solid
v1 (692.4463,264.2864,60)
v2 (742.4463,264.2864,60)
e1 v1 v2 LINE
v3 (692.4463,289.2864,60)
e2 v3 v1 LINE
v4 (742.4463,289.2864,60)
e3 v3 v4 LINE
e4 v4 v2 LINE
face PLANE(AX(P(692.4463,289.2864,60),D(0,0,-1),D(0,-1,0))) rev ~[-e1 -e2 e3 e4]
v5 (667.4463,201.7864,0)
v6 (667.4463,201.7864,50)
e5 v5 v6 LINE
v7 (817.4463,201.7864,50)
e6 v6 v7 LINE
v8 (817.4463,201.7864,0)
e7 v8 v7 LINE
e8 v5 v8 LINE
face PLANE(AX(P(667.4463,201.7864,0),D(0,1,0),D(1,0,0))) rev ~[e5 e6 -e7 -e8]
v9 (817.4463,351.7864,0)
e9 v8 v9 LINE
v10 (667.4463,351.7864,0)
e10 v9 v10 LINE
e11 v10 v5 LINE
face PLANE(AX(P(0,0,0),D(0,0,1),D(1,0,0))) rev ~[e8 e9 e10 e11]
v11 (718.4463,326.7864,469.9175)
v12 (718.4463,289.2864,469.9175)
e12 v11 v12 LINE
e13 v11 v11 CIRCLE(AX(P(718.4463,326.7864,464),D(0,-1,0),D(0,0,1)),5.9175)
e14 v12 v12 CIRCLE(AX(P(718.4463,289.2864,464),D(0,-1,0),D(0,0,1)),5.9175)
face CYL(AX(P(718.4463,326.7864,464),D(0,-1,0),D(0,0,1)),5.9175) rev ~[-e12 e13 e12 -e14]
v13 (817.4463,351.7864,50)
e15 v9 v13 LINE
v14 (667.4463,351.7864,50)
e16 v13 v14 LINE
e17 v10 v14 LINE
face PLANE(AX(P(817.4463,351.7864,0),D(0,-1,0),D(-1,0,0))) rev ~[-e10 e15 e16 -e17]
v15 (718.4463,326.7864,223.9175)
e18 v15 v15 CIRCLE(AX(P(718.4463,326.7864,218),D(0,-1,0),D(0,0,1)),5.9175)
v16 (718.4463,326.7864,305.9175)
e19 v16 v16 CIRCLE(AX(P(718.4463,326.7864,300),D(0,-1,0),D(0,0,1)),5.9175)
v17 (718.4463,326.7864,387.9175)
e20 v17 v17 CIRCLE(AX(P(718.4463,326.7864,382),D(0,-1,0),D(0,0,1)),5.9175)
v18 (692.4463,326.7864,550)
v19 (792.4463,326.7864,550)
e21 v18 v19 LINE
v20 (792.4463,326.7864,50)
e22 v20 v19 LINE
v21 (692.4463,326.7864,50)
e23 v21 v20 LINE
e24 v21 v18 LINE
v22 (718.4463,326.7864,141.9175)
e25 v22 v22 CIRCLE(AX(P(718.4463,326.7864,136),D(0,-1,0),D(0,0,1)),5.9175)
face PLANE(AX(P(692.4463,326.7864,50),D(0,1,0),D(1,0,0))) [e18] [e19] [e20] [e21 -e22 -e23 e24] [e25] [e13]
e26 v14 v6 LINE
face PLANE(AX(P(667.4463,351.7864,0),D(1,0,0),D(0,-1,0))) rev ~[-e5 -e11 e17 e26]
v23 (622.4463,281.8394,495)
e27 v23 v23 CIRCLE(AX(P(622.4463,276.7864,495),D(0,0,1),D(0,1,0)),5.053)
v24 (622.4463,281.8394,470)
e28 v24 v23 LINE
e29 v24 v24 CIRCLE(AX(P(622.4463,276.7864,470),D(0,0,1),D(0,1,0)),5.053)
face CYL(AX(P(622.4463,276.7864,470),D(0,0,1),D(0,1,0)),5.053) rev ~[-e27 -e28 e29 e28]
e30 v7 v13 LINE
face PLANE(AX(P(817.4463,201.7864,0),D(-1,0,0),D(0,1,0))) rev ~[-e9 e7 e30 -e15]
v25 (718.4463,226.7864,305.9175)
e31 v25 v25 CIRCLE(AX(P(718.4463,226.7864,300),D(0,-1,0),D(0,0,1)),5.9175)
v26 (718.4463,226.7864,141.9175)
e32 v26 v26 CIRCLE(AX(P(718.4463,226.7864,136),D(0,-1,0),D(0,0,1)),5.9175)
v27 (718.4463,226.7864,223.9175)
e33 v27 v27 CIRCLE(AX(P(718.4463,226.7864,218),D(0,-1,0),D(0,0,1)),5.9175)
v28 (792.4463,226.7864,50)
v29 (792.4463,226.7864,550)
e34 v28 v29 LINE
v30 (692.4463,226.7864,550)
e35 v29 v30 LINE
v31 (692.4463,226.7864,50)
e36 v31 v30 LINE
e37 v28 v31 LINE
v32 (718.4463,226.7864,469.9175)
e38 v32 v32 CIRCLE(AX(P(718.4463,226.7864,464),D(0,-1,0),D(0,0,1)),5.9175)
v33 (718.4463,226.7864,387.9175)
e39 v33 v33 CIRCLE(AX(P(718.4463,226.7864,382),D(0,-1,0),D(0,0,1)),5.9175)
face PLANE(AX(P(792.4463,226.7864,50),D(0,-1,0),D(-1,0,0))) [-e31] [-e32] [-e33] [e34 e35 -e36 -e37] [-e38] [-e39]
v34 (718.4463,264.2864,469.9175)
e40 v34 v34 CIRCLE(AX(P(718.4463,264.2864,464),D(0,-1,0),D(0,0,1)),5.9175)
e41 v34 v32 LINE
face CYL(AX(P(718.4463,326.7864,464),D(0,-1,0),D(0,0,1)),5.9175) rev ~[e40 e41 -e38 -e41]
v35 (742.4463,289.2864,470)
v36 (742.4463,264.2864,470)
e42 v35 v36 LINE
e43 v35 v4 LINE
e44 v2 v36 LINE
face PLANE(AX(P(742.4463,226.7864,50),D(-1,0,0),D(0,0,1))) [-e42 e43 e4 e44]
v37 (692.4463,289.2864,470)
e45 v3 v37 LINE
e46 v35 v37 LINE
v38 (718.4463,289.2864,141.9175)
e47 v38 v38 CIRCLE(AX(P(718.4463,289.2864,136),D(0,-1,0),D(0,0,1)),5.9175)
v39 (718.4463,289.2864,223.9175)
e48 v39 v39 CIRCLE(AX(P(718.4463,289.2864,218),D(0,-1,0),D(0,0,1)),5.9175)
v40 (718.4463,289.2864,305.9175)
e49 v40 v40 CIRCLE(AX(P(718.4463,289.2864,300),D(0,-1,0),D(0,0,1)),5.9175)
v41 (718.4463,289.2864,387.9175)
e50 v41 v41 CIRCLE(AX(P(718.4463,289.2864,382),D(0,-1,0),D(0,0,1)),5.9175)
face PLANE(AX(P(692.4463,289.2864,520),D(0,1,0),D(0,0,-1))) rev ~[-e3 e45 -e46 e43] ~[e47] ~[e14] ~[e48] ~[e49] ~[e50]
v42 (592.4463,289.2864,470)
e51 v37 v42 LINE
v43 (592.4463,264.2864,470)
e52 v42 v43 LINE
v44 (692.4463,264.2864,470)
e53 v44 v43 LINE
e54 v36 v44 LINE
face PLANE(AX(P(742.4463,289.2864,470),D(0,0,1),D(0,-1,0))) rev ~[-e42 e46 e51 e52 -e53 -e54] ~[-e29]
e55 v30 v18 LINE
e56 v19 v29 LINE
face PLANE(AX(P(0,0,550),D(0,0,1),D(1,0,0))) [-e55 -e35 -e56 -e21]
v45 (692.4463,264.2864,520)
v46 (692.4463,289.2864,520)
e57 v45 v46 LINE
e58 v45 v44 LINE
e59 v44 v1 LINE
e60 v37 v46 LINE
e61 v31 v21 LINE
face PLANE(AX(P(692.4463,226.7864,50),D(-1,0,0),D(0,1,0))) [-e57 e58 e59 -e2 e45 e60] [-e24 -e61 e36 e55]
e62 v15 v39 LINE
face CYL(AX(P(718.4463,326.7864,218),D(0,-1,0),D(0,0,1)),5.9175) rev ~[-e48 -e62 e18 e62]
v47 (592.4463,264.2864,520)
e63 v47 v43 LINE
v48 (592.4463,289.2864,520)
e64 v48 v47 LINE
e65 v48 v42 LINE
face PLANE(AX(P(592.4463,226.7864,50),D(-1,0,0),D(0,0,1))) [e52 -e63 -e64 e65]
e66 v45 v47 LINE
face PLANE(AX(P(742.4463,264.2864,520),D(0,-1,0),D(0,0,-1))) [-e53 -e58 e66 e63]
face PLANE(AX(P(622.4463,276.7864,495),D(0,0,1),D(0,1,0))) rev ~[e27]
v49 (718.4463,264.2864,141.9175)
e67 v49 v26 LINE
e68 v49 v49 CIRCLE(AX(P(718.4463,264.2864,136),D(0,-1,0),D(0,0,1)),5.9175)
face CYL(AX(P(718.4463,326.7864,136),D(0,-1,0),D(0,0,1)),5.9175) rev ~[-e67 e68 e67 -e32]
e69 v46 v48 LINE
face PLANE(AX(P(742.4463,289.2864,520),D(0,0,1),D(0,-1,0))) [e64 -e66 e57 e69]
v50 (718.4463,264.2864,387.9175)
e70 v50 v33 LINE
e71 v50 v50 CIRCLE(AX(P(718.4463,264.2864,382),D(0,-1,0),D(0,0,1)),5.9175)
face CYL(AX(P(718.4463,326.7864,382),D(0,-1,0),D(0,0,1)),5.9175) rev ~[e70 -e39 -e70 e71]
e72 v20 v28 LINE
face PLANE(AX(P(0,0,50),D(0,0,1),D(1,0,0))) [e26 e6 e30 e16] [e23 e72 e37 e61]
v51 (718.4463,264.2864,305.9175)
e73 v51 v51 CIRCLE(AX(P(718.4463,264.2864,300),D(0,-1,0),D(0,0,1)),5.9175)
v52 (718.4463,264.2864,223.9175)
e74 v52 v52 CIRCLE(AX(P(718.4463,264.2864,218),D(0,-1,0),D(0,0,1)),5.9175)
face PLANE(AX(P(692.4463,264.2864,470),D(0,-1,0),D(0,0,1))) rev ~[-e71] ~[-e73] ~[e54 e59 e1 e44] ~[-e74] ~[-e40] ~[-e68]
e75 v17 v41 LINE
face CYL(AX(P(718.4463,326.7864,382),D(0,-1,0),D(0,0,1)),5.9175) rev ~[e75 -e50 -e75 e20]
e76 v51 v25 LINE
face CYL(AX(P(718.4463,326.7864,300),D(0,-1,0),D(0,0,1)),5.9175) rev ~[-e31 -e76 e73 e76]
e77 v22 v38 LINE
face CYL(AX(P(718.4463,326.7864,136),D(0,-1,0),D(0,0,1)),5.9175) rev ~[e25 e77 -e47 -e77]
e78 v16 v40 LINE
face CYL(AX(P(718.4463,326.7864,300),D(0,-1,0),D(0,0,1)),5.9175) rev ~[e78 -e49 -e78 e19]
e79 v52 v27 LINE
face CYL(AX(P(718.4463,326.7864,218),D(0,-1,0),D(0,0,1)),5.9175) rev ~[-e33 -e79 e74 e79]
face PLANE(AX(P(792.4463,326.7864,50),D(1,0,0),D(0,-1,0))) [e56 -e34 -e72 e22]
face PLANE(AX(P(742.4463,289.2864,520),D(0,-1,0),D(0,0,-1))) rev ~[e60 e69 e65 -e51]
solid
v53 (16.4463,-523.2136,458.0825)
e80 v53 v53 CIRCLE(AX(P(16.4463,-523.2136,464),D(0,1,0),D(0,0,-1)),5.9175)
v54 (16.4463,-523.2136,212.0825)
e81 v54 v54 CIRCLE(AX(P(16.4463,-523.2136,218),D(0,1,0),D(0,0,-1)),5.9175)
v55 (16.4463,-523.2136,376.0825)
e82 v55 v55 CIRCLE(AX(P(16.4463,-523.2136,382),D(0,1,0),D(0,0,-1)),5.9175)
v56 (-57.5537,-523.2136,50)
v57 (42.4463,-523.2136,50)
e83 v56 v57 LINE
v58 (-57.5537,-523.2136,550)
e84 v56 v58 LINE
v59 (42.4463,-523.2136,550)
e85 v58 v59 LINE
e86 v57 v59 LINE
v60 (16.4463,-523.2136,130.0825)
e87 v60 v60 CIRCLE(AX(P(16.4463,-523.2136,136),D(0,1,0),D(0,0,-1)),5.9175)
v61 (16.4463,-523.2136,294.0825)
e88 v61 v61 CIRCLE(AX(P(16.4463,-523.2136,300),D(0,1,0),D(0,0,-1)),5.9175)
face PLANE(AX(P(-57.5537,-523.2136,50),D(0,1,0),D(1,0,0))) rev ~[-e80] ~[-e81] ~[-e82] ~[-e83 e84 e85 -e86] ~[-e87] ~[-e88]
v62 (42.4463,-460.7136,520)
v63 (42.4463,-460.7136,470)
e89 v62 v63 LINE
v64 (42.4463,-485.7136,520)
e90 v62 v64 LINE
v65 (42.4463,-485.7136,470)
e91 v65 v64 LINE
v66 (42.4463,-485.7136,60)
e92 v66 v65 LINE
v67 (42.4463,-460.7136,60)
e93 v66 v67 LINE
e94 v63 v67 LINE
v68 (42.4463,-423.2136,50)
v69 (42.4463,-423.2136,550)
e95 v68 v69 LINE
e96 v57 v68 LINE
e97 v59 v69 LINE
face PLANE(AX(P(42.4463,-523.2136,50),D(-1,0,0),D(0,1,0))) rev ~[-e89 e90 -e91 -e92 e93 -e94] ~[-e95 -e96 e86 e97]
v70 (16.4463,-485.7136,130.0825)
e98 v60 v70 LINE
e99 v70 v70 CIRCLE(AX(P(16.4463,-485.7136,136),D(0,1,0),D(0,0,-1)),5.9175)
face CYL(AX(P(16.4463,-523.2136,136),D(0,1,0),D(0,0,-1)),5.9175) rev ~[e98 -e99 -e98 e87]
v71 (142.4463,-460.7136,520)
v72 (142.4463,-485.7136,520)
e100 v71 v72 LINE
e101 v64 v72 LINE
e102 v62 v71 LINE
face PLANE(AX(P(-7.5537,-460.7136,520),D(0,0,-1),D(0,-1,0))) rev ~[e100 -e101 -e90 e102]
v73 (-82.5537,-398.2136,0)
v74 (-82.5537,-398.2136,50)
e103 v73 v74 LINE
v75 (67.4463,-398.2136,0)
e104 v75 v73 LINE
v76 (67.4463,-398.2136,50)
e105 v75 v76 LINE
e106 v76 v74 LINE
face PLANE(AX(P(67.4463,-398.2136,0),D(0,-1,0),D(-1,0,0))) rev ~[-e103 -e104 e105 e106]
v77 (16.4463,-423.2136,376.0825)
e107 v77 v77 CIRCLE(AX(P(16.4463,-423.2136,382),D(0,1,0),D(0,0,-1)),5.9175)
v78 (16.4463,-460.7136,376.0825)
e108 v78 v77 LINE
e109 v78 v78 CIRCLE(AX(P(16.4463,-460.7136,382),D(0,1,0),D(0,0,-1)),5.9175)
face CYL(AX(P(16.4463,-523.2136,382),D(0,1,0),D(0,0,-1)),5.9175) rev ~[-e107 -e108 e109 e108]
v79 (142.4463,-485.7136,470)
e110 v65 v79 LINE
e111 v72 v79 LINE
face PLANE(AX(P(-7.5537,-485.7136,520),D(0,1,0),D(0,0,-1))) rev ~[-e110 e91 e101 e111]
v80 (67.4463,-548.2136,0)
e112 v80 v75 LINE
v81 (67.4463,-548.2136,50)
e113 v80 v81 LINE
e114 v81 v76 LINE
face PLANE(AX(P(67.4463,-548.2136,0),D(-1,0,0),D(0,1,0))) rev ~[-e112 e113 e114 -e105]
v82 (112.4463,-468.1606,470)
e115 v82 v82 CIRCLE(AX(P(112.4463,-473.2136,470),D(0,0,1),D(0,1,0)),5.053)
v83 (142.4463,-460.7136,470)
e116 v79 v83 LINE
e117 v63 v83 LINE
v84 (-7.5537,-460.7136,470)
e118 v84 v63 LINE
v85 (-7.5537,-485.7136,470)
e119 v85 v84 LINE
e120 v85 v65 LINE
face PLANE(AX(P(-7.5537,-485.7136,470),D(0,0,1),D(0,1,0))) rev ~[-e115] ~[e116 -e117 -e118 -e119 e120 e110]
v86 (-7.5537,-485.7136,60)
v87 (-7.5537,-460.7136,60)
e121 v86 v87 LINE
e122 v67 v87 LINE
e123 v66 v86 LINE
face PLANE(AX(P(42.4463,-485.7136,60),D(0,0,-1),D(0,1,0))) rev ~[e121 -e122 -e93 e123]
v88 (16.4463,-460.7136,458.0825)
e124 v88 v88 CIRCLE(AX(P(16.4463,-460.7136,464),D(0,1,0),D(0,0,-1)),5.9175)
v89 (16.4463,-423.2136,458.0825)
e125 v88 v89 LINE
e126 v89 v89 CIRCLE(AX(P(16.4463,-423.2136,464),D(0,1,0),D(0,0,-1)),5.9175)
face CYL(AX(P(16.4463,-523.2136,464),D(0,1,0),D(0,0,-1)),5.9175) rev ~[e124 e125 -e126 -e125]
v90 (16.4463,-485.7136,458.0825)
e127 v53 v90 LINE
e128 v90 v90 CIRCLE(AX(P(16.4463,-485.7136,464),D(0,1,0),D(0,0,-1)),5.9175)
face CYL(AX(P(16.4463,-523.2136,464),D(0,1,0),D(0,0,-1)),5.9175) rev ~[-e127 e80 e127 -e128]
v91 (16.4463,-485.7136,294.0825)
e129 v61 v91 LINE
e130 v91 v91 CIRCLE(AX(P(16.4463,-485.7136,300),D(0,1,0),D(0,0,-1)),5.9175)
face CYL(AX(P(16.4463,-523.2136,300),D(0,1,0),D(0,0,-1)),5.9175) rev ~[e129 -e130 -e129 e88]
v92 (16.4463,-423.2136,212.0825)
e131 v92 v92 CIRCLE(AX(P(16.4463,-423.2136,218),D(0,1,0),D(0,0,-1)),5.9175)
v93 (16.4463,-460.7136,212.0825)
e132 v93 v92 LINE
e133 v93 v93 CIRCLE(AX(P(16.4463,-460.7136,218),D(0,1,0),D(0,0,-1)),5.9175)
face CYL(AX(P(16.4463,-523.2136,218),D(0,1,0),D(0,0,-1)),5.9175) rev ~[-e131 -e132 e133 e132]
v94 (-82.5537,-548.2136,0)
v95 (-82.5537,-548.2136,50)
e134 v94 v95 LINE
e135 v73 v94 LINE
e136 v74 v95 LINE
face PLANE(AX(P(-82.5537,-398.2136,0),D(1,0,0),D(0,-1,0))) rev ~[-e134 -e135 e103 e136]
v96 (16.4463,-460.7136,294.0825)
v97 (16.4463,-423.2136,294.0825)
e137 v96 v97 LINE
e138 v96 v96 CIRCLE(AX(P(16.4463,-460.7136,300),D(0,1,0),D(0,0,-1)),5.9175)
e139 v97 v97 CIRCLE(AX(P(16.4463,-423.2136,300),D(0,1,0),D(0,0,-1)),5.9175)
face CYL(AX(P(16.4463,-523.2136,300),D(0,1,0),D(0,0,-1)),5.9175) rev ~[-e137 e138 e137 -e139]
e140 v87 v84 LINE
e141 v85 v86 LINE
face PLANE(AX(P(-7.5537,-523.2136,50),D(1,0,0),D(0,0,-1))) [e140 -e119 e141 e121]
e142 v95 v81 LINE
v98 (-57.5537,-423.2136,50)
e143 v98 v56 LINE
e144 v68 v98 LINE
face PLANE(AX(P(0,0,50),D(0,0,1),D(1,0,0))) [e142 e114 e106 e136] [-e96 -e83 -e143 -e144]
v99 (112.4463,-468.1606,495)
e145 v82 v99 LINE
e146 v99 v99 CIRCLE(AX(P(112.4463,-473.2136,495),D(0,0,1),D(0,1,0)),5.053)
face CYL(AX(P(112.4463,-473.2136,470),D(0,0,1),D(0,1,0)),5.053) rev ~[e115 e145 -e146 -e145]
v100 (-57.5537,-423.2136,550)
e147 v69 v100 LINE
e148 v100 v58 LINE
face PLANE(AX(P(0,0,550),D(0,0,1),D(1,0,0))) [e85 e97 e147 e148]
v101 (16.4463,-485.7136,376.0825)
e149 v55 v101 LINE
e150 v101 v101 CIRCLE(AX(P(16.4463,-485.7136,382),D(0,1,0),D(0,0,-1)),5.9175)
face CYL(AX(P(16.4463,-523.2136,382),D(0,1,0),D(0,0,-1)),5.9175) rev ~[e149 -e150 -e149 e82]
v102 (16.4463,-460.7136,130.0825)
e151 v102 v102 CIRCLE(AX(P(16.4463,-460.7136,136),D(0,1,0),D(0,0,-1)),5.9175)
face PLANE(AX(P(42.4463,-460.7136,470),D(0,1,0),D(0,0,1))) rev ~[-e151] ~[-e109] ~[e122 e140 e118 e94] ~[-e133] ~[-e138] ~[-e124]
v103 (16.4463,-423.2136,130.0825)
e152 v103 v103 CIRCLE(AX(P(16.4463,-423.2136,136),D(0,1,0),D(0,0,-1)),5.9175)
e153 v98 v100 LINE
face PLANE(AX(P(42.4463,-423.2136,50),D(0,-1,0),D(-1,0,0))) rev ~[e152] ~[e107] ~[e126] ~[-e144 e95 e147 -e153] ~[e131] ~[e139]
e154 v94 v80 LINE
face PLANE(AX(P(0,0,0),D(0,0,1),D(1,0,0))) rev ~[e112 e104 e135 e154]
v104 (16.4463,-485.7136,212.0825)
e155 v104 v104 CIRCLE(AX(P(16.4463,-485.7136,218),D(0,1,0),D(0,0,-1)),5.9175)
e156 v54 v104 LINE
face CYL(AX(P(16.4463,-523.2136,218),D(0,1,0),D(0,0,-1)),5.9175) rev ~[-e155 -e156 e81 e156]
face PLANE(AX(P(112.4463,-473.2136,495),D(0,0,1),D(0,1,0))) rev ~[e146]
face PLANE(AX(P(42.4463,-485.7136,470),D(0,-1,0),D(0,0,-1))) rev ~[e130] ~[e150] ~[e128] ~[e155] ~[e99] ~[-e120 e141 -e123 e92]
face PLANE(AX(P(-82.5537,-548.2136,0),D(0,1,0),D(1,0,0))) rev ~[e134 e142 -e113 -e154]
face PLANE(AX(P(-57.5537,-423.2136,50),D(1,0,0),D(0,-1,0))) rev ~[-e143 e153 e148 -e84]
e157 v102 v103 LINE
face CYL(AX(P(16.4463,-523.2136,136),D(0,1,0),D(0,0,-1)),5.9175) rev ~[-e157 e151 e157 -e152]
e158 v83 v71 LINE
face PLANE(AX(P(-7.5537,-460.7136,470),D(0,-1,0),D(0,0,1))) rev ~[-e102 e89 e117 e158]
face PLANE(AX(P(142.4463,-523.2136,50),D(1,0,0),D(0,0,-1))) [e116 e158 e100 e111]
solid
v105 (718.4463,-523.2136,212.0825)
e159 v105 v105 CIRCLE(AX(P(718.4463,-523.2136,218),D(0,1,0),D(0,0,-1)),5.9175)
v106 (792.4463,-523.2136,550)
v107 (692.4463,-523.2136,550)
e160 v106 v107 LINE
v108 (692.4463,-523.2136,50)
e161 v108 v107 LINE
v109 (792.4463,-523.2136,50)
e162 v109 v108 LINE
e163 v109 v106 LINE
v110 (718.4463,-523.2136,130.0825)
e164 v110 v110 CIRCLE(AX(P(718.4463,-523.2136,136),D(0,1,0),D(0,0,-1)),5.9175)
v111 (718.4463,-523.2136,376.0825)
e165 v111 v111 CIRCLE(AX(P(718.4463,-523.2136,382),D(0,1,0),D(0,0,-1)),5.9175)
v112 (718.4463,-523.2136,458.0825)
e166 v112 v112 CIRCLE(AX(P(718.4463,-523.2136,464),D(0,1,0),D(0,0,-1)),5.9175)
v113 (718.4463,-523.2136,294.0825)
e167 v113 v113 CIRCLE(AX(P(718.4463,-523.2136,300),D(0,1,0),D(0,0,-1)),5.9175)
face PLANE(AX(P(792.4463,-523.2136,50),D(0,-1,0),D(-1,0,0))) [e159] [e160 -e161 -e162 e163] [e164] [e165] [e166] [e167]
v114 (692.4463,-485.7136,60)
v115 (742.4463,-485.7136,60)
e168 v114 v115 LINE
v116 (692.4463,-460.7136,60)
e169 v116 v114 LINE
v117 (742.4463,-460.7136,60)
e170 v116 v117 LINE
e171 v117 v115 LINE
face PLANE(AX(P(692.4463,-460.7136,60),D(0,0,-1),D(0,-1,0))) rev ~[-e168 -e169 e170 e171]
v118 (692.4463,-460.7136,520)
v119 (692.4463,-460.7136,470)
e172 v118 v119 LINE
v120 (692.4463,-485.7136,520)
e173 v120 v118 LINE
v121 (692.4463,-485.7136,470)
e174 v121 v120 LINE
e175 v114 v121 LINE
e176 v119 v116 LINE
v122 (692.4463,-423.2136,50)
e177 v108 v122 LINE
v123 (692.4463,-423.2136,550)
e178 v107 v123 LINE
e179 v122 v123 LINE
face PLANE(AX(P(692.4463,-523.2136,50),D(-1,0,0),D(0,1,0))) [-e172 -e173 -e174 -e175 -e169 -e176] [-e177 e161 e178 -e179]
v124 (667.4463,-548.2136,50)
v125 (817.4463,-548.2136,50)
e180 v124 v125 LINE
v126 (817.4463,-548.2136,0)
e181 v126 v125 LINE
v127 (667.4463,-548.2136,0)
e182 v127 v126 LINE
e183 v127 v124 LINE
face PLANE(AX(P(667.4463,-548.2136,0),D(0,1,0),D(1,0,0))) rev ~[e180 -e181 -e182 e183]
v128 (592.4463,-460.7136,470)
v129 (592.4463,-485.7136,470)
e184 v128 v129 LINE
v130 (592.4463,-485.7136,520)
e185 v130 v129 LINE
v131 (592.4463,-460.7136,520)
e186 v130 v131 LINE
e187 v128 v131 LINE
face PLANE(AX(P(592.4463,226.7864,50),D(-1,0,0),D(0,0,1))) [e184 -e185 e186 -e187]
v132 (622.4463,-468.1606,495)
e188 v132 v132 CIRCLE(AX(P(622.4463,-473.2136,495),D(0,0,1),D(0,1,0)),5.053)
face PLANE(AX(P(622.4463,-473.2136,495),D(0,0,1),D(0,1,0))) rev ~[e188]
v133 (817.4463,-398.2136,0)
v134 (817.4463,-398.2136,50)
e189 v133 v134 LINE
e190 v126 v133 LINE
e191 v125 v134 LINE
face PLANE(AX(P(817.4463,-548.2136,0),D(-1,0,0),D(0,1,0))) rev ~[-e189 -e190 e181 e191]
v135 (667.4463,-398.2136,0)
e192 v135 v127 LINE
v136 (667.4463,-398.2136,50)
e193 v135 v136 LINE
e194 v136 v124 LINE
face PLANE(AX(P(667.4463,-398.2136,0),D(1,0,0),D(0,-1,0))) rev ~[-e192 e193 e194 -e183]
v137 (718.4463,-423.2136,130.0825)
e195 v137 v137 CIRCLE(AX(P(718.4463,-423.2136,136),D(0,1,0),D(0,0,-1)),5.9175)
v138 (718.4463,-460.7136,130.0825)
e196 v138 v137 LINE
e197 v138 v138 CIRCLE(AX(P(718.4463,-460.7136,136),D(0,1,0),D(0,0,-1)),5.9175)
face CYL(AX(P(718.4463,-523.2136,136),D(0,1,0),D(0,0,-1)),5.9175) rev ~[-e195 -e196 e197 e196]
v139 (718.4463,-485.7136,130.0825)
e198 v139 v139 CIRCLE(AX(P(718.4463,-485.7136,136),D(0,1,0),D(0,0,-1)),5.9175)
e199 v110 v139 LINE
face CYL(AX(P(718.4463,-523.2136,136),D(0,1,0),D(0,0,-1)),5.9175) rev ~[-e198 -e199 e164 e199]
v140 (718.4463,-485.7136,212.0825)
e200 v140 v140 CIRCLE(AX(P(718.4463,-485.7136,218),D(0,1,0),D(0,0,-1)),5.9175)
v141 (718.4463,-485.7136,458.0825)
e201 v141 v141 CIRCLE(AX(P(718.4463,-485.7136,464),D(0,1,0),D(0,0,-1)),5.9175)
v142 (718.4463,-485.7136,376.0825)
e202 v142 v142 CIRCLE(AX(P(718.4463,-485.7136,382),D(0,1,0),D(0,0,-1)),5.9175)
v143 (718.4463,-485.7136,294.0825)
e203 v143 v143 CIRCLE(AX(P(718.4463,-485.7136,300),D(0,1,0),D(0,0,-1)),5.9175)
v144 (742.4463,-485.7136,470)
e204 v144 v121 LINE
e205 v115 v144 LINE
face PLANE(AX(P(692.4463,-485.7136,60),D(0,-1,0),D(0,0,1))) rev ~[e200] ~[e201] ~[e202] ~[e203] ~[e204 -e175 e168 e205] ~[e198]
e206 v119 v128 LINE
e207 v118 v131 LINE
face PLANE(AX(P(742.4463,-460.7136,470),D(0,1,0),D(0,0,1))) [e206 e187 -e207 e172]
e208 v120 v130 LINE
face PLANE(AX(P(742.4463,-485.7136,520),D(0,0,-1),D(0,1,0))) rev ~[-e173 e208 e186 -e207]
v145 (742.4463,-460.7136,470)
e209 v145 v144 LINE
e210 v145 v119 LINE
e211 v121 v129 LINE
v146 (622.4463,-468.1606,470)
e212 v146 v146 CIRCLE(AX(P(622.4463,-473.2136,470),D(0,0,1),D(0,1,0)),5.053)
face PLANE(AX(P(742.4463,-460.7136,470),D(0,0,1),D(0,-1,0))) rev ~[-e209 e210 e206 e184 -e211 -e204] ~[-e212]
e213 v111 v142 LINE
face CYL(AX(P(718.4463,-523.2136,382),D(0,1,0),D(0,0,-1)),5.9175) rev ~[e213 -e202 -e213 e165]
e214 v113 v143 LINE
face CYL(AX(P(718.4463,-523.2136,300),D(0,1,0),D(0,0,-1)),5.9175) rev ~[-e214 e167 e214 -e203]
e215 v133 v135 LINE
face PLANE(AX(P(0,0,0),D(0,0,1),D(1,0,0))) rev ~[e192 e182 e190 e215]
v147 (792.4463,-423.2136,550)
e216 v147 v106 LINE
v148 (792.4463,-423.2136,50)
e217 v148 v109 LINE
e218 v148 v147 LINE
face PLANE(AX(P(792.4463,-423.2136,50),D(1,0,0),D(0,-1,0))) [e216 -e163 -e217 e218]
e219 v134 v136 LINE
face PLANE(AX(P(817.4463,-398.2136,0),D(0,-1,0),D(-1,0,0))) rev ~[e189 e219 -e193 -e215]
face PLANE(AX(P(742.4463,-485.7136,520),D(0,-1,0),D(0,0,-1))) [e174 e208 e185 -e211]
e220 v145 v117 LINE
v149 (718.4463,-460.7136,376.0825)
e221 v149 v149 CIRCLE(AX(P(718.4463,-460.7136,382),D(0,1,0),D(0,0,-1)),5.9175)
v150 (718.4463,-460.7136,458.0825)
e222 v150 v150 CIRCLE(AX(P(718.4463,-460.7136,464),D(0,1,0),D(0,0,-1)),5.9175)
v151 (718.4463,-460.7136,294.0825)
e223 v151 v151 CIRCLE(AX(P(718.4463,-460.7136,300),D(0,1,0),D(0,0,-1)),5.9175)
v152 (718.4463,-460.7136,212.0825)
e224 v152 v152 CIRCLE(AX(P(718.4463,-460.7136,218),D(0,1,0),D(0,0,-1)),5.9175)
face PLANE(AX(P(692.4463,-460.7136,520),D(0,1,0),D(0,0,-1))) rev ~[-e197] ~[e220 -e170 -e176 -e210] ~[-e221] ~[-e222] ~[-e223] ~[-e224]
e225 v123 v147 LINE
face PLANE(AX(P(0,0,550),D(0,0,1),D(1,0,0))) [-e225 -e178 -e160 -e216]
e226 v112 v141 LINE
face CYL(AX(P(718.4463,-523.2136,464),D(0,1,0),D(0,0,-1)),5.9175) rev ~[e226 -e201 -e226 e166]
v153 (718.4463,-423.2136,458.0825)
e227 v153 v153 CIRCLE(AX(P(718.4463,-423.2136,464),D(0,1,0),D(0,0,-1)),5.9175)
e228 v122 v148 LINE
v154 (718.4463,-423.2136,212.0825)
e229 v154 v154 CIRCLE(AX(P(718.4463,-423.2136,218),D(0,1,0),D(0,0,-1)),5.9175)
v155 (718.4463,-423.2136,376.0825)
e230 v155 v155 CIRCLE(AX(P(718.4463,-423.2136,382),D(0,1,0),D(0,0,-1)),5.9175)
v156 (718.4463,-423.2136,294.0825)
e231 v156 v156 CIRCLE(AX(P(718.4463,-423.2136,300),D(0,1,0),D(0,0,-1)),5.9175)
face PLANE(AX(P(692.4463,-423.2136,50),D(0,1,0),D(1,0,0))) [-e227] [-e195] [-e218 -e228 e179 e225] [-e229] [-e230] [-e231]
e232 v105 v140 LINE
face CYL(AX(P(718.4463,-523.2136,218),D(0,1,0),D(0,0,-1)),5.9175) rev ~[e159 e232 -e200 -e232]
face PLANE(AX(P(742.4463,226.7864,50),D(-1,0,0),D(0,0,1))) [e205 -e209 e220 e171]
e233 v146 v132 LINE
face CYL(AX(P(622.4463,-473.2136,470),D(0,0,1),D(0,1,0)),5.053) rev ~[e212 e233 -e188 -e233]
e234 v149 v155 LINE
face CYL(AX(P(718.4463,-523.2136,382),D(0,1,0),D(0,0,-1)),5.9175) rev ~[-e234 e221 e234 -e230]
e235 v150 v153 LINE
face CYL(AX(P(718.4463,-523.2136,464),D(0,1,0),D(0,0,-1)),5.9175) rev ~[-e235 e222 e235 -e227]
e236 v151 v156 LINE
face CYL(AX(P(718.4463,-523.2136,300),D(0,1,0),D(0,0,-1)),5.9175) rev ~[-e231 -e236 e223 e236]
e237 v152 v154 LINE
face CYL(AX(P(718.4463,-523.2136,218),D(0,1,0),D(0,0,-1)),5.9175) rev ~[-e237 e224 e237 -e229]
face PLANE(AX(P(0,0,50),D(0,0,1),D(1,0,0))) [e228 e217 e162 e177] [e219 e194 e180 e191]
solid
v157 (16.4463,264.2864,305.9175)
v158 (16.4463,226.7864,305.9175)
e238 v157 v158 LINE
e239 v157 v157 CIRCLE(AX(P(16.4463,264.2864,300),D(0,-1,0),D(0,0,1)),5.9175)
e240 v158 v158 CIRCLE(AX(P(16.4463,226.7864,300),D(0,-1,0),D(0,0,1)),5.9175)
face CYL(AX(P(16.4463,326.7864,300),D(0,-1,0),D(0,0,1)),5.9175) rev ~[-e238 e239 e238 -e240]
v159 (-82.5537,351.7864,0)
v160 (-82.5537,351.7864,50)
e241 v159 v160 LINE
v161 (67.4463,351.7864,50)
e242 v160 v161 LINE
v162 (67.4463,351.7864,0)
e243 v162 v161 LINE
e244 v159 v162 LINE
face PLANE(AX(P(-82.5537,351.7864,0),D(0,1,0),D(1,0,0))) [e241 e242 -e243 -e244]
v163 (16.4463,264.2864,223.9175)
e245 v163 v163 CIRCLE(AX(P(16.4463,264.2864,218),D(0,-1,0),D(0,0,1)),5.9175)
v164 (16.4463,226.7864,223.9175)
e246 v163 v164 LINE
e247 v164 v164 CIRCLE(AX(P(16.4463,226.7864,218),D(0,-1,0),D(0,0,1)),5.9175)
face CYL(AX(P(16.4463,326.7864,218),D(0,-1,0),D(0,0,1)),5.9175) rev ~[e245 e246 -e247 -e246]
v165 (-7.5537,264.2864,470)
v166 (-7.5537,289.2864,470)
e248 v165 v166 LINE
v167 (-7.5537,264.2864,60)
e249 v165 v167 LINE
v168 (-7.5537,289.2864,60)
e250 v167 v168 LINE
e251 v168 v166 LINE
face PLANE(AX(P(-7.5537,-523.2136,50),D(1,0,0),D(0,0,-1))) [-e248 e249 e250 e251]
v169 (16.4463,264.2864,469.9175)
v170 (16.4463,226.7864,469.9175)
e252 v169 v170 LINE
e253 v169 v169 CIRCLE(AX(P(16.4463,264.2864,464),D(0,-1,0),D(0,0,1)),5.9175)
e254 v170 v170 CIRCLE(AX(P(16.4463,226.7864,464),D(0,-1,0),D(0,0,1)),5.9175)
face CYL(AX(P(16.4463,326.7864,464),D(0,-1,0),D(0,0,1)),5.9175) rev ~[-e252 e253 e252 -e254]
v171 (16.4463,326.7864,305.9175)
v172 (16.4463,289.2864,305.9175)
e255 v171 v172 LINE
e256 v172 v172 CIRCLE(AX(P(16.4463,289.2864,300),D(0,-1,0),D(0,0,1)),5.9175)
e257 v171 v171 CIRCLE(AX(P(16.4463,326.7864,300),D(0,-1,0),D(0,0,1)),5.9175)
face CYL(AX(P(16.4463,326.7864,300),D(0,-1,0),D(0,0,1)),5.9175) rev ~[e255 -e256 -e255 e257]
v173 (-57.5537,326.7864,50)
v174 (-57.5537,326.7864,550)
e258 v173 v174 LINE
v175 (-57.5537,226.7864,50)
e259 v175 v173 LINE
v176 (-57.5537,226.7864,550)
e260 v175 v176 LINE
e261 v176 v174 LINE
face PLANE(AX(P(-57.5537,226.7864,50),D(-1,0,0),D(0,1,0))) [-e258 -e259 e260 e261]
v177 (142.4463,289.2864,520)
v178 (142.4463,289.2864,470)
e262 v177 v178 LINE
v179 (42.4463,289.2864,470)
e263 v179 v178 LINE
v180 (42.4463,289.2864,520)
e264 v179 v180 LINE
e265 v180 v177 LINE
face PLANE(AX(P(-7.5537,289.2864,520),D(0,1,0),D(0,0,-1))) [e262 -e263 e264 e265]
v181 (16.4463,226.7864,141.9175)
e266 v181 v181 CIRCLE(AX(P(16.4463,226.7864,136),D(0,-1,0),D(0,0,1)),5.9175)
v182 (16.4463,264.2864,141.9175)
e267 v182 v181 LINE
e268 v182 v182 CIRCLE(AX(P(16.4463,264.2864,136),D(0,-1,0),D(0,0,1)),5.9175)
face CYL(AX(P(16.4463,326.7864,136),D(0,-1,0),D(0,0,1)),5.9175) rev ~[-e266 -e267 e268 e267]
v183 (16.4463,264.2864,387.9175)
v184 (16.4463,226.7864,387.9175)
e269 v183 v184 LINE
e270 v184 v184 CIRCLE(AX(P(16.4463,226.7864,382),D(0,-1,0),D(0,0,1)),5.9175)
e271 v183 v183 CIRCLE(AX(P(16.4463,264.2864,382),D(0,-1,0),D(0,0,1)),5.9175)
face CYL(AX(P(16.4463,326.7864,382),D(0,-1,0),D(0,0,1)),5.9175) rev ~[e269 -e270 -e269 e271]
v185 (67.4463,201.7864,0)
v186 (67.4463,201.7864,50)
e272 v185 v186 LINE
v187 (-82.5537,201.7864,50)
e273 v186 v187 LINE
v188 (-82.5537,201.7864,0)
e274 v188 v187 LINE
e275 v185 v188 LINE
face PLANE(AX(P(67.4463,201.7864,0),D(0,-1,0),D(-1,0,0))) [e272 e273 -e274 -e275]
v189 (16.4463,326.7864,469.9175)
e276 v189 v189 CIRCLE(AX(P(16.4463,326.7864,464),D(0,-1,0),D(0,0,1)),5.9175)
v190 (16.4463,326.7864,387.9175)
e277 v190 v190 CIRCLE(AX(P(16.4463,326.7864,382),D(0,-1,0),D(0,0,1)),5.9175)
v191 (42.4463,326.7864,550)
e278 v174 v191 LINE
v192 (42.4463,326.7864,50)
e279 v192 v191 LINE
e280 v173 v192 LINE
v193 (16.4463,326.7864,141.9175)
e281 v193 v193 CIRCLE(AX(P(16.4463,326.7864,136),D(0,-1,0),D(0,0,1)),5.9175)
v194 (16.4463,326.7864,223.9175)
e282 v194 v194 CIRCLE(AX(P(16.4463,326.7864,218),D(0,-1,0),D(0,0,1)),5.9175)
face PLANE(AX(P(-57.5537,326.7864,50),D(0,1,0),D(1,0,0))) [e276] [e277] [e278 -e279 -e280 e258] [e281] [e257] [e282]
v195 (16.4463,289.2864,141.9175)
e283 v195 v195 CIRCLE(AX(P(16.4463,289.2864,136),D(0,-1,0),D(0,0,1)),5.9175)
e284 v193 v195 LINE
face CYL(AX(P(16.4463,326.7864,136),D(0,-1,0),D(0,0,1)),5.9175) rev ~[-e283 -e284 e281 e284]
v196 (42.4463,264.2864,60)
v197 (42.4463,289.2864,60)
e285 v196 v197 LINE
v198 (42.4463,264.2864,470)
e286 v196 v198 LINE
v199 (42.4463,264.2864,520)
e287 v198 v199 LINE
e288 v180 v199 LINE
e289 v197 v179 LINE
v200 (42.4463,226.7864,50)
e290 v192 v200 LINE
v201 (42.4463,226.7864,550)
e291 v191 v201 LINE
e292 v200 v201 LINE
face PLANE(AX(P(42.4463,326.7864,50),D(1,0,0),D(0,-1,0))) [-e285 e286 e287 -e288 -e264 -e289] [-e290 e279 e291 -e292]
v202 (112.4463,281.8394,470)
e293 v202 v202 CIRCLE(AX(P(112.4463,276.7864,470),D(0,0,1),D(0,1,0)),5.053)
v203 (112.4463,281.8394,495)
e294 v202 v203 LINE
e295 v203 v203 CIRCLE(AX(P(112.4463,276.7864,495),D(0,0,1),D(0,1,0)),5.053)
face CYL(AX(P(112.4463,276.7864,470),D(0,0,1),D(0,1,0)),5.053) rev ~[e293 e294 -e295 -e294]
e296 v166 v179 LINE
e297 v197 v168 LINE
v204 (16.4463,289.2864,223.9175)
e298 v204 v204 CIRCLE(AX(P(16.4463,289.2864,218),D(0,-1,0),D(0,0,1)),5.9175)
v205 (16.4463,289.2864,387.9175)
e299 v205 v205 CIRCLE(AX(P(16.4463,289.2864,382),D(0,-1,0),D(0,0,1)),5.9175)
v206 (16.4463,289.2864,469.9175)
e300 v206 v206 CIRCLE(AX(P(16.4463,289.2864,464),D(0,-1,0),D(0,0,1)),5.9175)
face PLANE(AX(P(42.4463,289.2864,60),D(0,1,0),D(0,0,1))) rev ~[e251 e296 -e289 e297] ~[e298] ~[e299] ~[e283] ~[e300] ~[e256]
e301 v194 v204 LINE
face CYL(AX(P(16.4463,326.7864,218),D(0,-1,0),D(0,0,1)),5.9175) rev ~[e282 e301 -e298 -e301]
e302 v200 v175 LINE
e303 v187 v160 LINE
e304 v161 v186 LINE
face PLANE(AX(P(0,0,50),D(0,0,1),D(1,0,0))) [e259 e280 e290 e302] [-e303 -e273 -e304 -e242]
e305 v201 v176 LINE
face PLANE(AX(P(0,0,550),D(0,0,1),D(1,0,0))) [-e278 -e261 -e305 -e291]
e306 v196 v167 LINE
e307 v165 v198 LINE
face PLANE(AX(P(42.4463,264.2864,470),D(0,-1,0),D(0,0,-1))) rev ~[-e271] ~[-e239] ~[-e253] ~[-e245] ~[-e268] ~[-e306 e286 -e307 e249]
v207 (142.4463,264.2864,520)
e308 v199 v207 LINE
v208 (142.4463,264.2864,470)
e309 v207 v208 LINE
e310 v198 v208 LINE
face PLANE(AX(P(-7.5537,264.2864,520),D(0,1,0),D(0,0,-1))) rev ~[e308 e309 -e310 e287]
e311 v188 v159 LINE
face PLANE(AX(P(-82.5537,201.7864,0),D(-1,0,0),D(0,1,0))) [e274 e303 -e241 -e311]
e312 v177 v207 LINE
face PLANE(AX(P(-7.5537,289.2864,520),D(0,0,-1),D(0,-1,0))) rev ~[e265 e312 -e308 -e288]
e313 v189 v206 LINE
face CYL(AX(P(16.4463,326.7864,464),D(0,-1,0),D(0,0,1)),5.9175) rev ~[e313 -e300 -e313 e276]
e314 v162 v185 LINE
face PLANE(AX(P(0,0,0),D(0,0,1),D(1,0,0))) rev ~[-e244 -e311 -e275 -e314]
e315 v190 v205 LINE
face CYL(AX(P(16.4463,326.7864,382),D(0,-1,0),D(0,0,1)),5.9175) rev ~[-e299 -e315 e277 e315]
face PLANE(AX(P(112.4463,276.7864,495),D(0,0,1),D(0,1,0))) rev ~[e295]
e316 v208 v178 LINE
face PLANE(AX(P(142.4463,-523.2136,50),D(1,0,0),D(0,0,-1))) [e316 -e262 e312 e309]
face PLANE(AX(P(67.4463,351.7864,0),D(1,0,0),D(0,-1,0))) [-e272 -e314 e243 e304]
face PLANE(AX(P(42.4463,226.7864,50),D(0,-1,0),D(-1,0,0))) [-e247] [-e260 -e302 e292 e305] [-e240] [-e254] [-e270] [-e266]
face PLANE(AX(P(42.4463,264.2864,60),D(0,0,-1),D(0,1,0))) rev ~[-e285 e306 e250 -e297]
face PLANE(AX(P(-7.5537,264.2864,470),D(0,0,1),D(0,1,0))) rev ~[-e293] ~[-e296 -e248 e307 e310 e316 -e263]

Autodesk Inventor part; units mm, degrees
ref_plane "YZ Plane" through (0, 0, 0) normal (1, 0, 0) x (0, 1, 0)
ref_plane "XZ Plane" through (0, 0, 0) normal (0, 1, 0) x (-1, 0, 0)
ref_plane "XY Plane" through (0, 0, 0) normal (0, 0, 1) x (1, 0, 0)
sketch "Boceto1" plane through (0, 0, 0) normal (0, 0, 1) x (1, 0, 0)
  line L0 (-82.5537, 351.7864) -> (67.4463, 351.7864)
  line L1 (67.4463, 351.7864) -> (67.4463, 201.7864)
  line L2 (67.4463, 201.7864) -> (-82.5537, 201.7864)
  line L3 (-82.5537, 201.7864) -> (-82.5537, 351.7864)
  line L4 (-82.5537, 351.7864) -> (67.4463, 201.7864) construction
  line L5 (67.4463, 351.7864) -> (-82.5537, 201.7864) construction
  line L6 (667.4463, 201.7864) -> (817.4463, 201.7864)
  line L7 (817.4463, 201.7864) -> (817.4463, 351.7864)
  line L8 (817.4463, 351.7864) -> (667.4463, 351.7864)
  line L9 (667.4463, 351.7864) -> (667.4463, 201.7864)
  line L10 (667.4463, 201.7864) -> (817.4463, 351.7864) construction
  line L11 (817.4463, 201.7864) -> (667.4463, 351.7864) construction
  line L12 (-82.5537, -548.2136) -> (67.4463, -548.2136)
  line L13 (67.4463, -548.2136) -> (67.4463, -398.2136)
  line L14 (67.4463, -398.2136) -> (-82.5537, -398.2136)
  line L15 (-82.5537, -398.2136) -> (-82.5537, -548.2136)
  line L16 (-82.5537, -548.2136) -> (67.4463, -398.2136) construction
  line L17 (67.4463, -548.2136) -> (-82.5537, -398.2136) construction
  line L18 (667.4463, -548.2136) -> (817.4463, -548.2136)
  line L19 (817.4463, -548.2136) -> (817.4463, -398.2136)
  line L20 (817.4463, -398.2136) -> (667.4463, -398.2136)
  line L21 (667.4463, -398.2136) -> (667.4463, -548.2136)
  line L22 (667.4463, -548.2136) -> (817.4463, -398.2136) construction
  line L23 (817.4463, -548.2136) -> (667.4463, -398.2136) construction
  point P0 (0, 0)
  point P1 (-7.5537, 276.7864)
  point P2 (742.4463, 276.7864)
  point P3 (-7.5537, -473.2136)
  point P4 (742.4463, -473.2136)
  point P5 (-7.5537, -398.2136)
  point P6 (742.4463, -398.2136)
  point P7 (667.4463, 276.7864)
  point P8 (667.4463, -473.2136)
  point P9 (67.4463, -473.2136)
  dimension "d0" = 150
  dimension "d1" = 150
  dimension "d2" = 150
  dimension "d3" = 150
  dimension "d4" = 150
  dimension "d5" = 150
  dimension "d6" = 150
  dimension "d7" = 150
  dimension "d8" = 600
  dimension "d9" = 600
  dimension "d10" = 600
  dimension "d11" = 600
extrude "Extrusión1" add sketch "Boceto1" along normal blind 50
sketch "Boceto2" plane through (0, 0, 50) normal (0, 0, 1) x (1, 0, 0)
  line L0 (-57.5537, 326.7864) -> (42.4463, 326.7864)
  line L1 (42.4463, 326.7864) -> (42.4463, 226.7864)
  line L2 (42.4463, 226.7864) -> (-57.5537, 226.7864)
  line L3 (-57.5537, 226.7864) -> (-57.5537, 326.7864)
  line L4 (-57.5537, 326.7864) -> (42.4463, 226.7864) construction
  line L5 (42.4463, 326.7864) -> (-57.5537, 226.7864) construction
  line L6 (692.4463, 326.7864) -> (792.4463, 326.7864)
  line L7 (792.4463, 326.7864) -> (792.4463, 226.7864)
  line L8 (792.4463, 226.7864) -> (692.4463, 226.7864)
  line L9 (692.4463, 226.7864) -> (692.4463, 326.7864)
  line L10 (692.4463, 326.7864) -> (792.4463, 226.7864) construction
  line L11 (792.4463, 326.7864) -> (692.4463, 226.7864) construction
  line L12 (692.4463, -423.2136) -> (792.4463, -423.2136)
  line L13 (792.4463, -423.2136) -> (792.4463, -523.2136)
  line L14 (792.4463, -523.2136) -> (692.4463, -523.2136)
  line L15 (692.4463, -523.2136) -> (692.4463, -423.2136)
  line L16 (692.4463, -423.2136) -> (792.4463, -523.2136) construction
  line L17 (792.4463, -423.2136) -> (692.4463, -523.2136) construction
  line L18 (-57.5537, -523.2136) -> (42.4463, -523.2136)
  line L19 (42.4463, -523.2136) -> (42.4463, -423.2136)
  line L20 (42.4463, -423.2136) -> (-57.5537, -423.2136)
  line L21 (-57.5537, -423.2136) -> (-57.5537, -523.2136)
  line L22 (-57.5537, -523.2136) -> (42.4463, -423.2136) construction
  line L23 (42.4463, -523.2136) -> (-57.5537, -423.2136) construction
  line L24 (67.4463, 351.7864) -> (-82.5537, 351.7864) projected
  line L25 (-82.5537, 351.7864) -> (-82.5537, 201.7864) projected
  line L26 (817.4463, 351.7864) -> (667.4463, 351.7864) projected
  line L27 (667.4463, 351.7864) -> (667.4463, 201.7864) projected
  line L28 (817.4463, -398.2136) -> (667.4463, -398.2136) projected
  line L29 (-82.5537, -398.2136) -> (-82.5537, -548.2136) projected
  line L30 (67.4463, -398.2136) -> (-82.5537, -398.2136) projected
  point P0 (0, 0)
  point P1 (-7.5537, 276.7864)
  point P2 (742.4463, 276.7864)
  point P3 (742.4463, -473.2136)
  point P4 (-7.5537, -473.2136)
  point P5 (742.4463, 351.7864)
  point P6 (742.4463, 326.7864)
  point P7 (692.4463, 276.7864)
  dimension "d14" = 100
  dimension "d15" = 100
  dimension "d16" = 100
  dimension "d17" = 100
  dimension "d18" = 100
  dimension "d19" = 100
  dimension "d20" = 25
  dimension "d21" = 25
  dimension "d22" = 25
  dimension "d23" = 25
  dimension "d24" = 25
  dimension "d25" = 25
  dimension "d26" = 25
extrude "Extrusión2" add sketch "Boceto2" along normal blind 500
sketch "Boceto5" plane through (692.4463, 226.7864, 50) normal (-1, 0, 0) x (0, 0, 1)
  line L0 (470, 62.5) -> (420, 62.5) projected
  line L1 (470, 37.5) -> (470, 62.5) projected
  line L2 (420, 37.5) -> (470, 37.5) projected
  line L3 (420, 62.5) -> (420, 37.5) projected
  line L4 (420, 62.5) -> (470, 62.5) projected
  line L5 (470, 62.5) -> (10, 62.5)
  line L6 (10, 62.5) -> (10, 37.5)
  line L7 (10, 37.5) -> (470, 37.5)
  line L8 (470, 37.5) -> (470, 62.5)
  line L9 (470, -712.5) -> (470, -687.5) projected
  line L10 (470, -687.5) -> (10, -687.5)
  line L11 (10, -687.5) -> (10, -712.5)
  line L12 (10, -712.5) -> (470, -712.5)
  line L13 (470, -712.5) -> (470, -687.5)
  point P0 (-50, -226.7864)
  dimension "d41" = 460
  dimension "d42" = 460
extrude "Extrusión5" cut sketch "Boceto5" against normal blind 50
sketch "Boceto6" plane through (742.4463, 226.7864, 50) normal (-1, 0, 0) x (0, 0, 1)
  line L0 (470, 62.5) -> (470, 37.5) projected
  line L1 (470, 37.5) -> (10, 37.5) projected
  line L2 (470, 62.5) -> (420, 62.5)
  line L3 (420, 62.5) -> (420, 37.5)
  line L4 (420, 37.5) -> (470, 37.5)
  line L5 (470, 37.5) -> (470, 62.5)
  line L6 (10, -687.5) -> (470, -687.5) projected
  line L7 (470, -712.5) -> (10, -712.5) projected
  line L8 (470, -687.5) -> (420, -687.5)
  line L9 (420, -687.5) -> (420, -712.5)
  line L10 (420, -712.5) -> (470, -712.5)
  line L11 (470, -712.5) -> (470, -687.5)
  point P0 (-50, -226.7864)
  dimension "d45" = 50
  dimension "d46" = 50
extrude "Extrusión6" add sketch "Boceto6" along normal blind 150
sketch "Boceto7" plane through (42.4463, -523.2136, 50) normal (1, 0, 0) x (0, 0, -1)
  line L0 (-470, 37.5) -> (-420, 37.5) projected
  line L1 (-10, 62.5) -> (-420, 62.5) projected
  line L2 (-470, 37.5) -> (-10, 37.5)
  line L3 (-10, 37.5) -> (-10, 62.5)
  line L4 (-10, 62.5) -> (-470, 62.5)
  line L5 (-470, 62.5) -> (-470, 37.5)
  line L6 (-470, 787.5) -> (-420, 787.5) projected
  line L7 (-470, 787.5) -> (-10, 787.5)
  line L8 (-10, 787.5) -> (-10, 812.5)
  line L9 (-10, 812.5) -> (-470, 812.5)
  line L10 (-470, 812.5) -> (-470, 787.5)
  point P0 (50, 523.2136)
  dimension "d49" = 460
  dimension "d50" = 460
extrude "Extrusión7" cut sketch "Boceto7" against normal blind 50
sketch "Boceto8" plane through (-7.5537, -523.2136, 50) normal (1, 0, 0) x (0, 0, -1)
  line L0 (-470, 62.5) -> (-470, 37.5) projected
  line L1 (-420, 62.5) -> (-470, 62.5) projected
  line L2 (-470, 37.5) -> (-420, 37.5)
  line L3 (-420, 37.5) -> (-420, 62.5)
  line L4 (-420, 62.5) -> (-470, 62.5)
  line L5 (-470, 62.5) -> (-470, 37.5)
  line L6 (-470, 787.5) -> (-420, 787.5) projected
  line L7 (-470, 812.5) -> (-420, 812.5) projected
  line L8 (-470, 787.5) -> (-420, 787.5)
  line L9 (-420, 787.5) -> (-420, 812.5)
  line L10 (-420, 812.5) -> (-470, 812.5)
  line L11 (-470, 812.5) -> (-470, 787.5)
  point P0 (50, 523.2136)
  dimension "d53" = 50
  dimension "d54" = 50
extrude "Extrusión8" add sketch "Boceto8" along normal blind 150
sketch "Boceto9" plane through (-57.5537, -523.2136, 50) normal (0, -1, 0) x (1, 0, 0)
  line L0 (50, 420) -> (100, 420) projected
  circle A0 centre (74, 414) radius 6
  circle A1 centre (74, 332) radius 6
  circle A2 centre (74, 250) radius 6
  circle A3 centre (74, 168) radius 6
  circle A4 centre (74, 86) radius 6
  line L1 (100, 0) -> (100, 500) projected
  circle A5 centre (776, 414) radius 6
  line L2 (750, 420) -> (800, 420) projected
  line L3 (750, 0) -> (750, 500) projected
  circle A6 centre (776, 332) radius 6
  circle A7 centre (776, 250) radius 6
  circle A8 centre (776, 168) radius 6
  circle A9 centre (776, 86) radius 6
  line L4 (725, 0) -> (875, 0) projected
  point P0 (57.5537, -50)
  dimension "d60" = 12
  dimension "d61" = 0
  dimension "d62" = 12
  dimension "d63" = 70
  dimension "d64" = 12
  dimension "d65" = 12
  dimension "d66" = 12
  dimension "d69" = 82
  dimension "d70" = 70
  dimension "d71" = 82
  dimension "d74" = 20
  dimension "d75" = 12
  dimension "d76" = 0
  dimension "d77" = 20
  dimension "d78" = 12
  dimension "d83" = 82
  dimension "d84" = 12
  dimension "d85" = 82
  dimension "d86" = 12
  dimension "d87" = 70
  dimension "d88" = 12
  dimension "d89" = 82
hole "Agujero1" at (16.4463, -523.2136, 464) direction (0, 1, 0) diameter 11.835 depth 100 thread size "M14x2" class "6H" standard "ISO Metric profile"
hole "Agujero2" at (16.4463, -523.2136, 382) direction (0, 1, 0) diameter 11.835 depth 100 thread size "M14x2" class "6H" standard "ISO Metric profile"
hole "Agujero3" at (16.4463, -523.2136, 300) direction (0, 1, 0) diameter 11.835 depth 100 thread size "M14x2" class "6H" standard "ISO Metric profile"
hole "Agujero4" at (16.4463, -523.2136, 218) direction (0, 1, 0) diameter 11.835 depth 100 thread size "M14x2" class "6H" standard "ISO Metric profile"
hole "Agujero5" at (16.4463, -523.2136, 136) direction (0, 1, 0) diameter 11.835 depth 100 thread size "M14x2" class "6H" standard "ISO Metric profile"
hole "Agujero6" at (718.4463, -523.2136, 464) direction (0, 1, 0) diameter 11.835 depth 100 thread size "M14x2" class "6H" standard "ISO Metric profile"
hole "Agujero7" at (718.4463, -523.2136, 382) direction (0, 1, 0) diameter 11.835 depth 100 thread size "M14x2" class "6H" standard "ISO Metric profile"
hole "Agujero8" at (718.4463, -523.2136, 300) direction (0, 1, 0) diameter 11.835 depth 100 thread size "M14x2" class "6H" standard "ISO Metric profile"
hole "Agujero9" at (718.4463, -523.2136, 218) direction (0, 1, 0) diameter 11.835 depth 100 thread size "M14x2" class "6H" standard "ISO Metric profile"
hole "Agujero10" at (718.4463, -523.2136, 136) direction (0, 1, 0) diameter 11.835 depth 100 thread size "M14x2" class "6H" standard "ISO Metric profile"
sketch "Boceto10" plane through (692.4463, 326.7864, 50) normal (0, 1, 0) x (1, 0, 0)
  line L0 (50, -420) -> (0, -420) projected
  circle A0 centre (26, -414) radius 5.9175 projected
  circle A1 centre (26, -414) radius 6
  circle A2 centre (26, -332) radius 5.9175 projected
  circle A3 centre (26, -332) radius 6
  circle A4 centre (26, -250) radius 5.9175 projected
  circle A5 centre (26, -250) radius 6
  circle A6 centre (26, -168) radius 5.9175 projected
  circle A7 centre (26, -168) radius 6
  circle A8 centre (26, -86) radius 5.9175 projected
  circle A9 centre (26, -86) radius 6
  circle A10 centre (-676, -414) radius 5.9175 projected
  circle A11 centre (-676, -414) radius 6
  circle A12 centre (-676, -332) radius 5.9175 projected
  circle A13 centre (-676, -332) radius 6
  circle A14 centre (-676, -250) radius 5.9175 projected
  circle A15 centre (-676, -250) radius 6
  circle A16 centre (-676, -168) radius 5.9175 projected
  circle A17 centre (-676, -168) radius 6
  circle A18 centre (-676, -86) radius 5.9175 projected
  circle A19 centre (-676, -86) radius 6
  point P0 (-692.4463, 50)
  dimension "d161" = 12
  dimension "d162" = 12
  dimension "d163" = 12
  dimension "d164" = 12
  dimension "d165" = 12
  dimension "d166" = 12
  dimension "d167" = 12
  dimension "d168" = 12
  dimension "d169" = 12
  dimension "d170" = 12
hole "Agujero11" at (718.4463, 326.7864, 464) direction (0, -1, 0) diameter 11.835 depth 100 thread size "M14x2" class "6H" standard "ISO Metric profile"
hole "Agujero12" at (718.4463, 326.7864, 382) direction (0, -1, 0) diameter 11.835 depth 100 thread size "M14x2" class "6H" standard "ISO Metric profile"
hole "Agujero13" at (718.4463, 326.7864, 300) direction (0, -1, 0) diameter 11.835 depth 100 thread size "M14x2" class "6H" standard "ISO Metric profile"
hole "Agujero14" at (718.4463, 326.7864, 218) direction (0, -1, 0) diameter 11.835 depth 100 thread size "M14x2" class "6H" standard "ISO Metric profile"
hole "Agujero15" at (718.4463, 326.7864, 136) direction (0, -1, 0) diameter 11.835 depth 100 thread size "M14x2" class "6H" standard "ISO Metric profile"
hole "Agujero16" at (16.4463, 326.7864, 464) direction (0, -1, 0) diameter 11.835 depth 100 thread size "M14x2" class "6H" standard "ISO Metric profile"
hole "Agujero17" at (16.4463, 326.7864, 382) direction (0, -1, 0) diameter 11.835 depth 100 thread size "M14x2" class "6H" standard "ISO Metric profile"
hole "Agujero18" at (16.4463, 326.7864, 300) direction (0, -1, 0) diameter 11.835 depth 100 thread size "M14x2" class "6H" standard "ISO Metric profile"
hole "Agujero19" at (16.4463, 326.7864, 218) direction (0, -1, 0) diameter 11.835 depth 100 thread size "M14x2" class "6H" standard "ISO Metric profile"
hole "Agujero20" at (16.4463, 326.7864, 136) direction (0, -1, 0) diameter 11.835 depth 100 thread size "M14x2" class "6H" standard "ISO Metric profile"
sketch "Boceto11" plane through (-7.5537, -485.7136, 470) normal (0, 0, -1) x (-1, 0, 0)
  circle A0 centre (-120, 12.5) radius 5
  line L0 (-150, 0) -> (-150, 25) projected
  circle A1 centre (-120, 762.5) radius 5
  line L1 (-150, 750) -> (-150, 775) projected
  line L2 (-50, 0) -> (-150, 0) projected
  line L3 (-50, 750) -> (-150, 750) projected
  circle A2 centre (-630, 762.5) radius 5
  line L4 (-600, 775) -> (-600, 750) projected
  line L5 (-700, 750) -> (-600, 750) projected
  circle A3 centre (-630, 12.5) radius 5
  line L6 (-600, 25) -> (-600, 0) projected
  line L7 (-700, 0) -> (-600, 0) projected
  point P0 (-7.5537, 485.7136)
  point P1 (-150, 12.5)
  point P2 (-150, 762.5)
  point P3 (-600, 762.5)
  point P4 (-600, 12.5)
  dimension "d241" = 10
  dimension "d242" = 30
  dimension "d243" = 10
  dimension "d244" = 30
  dimension "d245" = 12.5
  dimension "d246" = 12.5
  dimension "d247" = 10
  dimension "d248" = 30
  dimension "d249" = 12.5
  dimension "d250" = 10
  dimension "d251" = 30
  dimension "d252" = 12.5
hole "Agujero21" at (622.4463, -473.2136, 470) direction (0, 0, 1) diameter 10.106 depth 25 thread size "M12x1.75" class "6H" standard "ISO Metric profile"
hole "Agujero22" at (622.4463, 276.7864, 470) direction (0, 0, 1) diameter 10.106 depth 25 thread size "M12x1.75" class "6H" standard "ISO Metric profile"
hole "Agujero23" at (112.4463, 276.7864, 470) direction (0, 0, 1) diameter 10.106 depth 25 thread size "M12x1.75" class "6H" standard "ISO Metric profile"
hole "Agujero24" at (112.4463, -473.2136, 470) direction (0, 0, 1) diameter 10.106 depth 25 thread size "M12x1.75" class "6H" standard "ISO Metric profile"
properties part number "Torres"
